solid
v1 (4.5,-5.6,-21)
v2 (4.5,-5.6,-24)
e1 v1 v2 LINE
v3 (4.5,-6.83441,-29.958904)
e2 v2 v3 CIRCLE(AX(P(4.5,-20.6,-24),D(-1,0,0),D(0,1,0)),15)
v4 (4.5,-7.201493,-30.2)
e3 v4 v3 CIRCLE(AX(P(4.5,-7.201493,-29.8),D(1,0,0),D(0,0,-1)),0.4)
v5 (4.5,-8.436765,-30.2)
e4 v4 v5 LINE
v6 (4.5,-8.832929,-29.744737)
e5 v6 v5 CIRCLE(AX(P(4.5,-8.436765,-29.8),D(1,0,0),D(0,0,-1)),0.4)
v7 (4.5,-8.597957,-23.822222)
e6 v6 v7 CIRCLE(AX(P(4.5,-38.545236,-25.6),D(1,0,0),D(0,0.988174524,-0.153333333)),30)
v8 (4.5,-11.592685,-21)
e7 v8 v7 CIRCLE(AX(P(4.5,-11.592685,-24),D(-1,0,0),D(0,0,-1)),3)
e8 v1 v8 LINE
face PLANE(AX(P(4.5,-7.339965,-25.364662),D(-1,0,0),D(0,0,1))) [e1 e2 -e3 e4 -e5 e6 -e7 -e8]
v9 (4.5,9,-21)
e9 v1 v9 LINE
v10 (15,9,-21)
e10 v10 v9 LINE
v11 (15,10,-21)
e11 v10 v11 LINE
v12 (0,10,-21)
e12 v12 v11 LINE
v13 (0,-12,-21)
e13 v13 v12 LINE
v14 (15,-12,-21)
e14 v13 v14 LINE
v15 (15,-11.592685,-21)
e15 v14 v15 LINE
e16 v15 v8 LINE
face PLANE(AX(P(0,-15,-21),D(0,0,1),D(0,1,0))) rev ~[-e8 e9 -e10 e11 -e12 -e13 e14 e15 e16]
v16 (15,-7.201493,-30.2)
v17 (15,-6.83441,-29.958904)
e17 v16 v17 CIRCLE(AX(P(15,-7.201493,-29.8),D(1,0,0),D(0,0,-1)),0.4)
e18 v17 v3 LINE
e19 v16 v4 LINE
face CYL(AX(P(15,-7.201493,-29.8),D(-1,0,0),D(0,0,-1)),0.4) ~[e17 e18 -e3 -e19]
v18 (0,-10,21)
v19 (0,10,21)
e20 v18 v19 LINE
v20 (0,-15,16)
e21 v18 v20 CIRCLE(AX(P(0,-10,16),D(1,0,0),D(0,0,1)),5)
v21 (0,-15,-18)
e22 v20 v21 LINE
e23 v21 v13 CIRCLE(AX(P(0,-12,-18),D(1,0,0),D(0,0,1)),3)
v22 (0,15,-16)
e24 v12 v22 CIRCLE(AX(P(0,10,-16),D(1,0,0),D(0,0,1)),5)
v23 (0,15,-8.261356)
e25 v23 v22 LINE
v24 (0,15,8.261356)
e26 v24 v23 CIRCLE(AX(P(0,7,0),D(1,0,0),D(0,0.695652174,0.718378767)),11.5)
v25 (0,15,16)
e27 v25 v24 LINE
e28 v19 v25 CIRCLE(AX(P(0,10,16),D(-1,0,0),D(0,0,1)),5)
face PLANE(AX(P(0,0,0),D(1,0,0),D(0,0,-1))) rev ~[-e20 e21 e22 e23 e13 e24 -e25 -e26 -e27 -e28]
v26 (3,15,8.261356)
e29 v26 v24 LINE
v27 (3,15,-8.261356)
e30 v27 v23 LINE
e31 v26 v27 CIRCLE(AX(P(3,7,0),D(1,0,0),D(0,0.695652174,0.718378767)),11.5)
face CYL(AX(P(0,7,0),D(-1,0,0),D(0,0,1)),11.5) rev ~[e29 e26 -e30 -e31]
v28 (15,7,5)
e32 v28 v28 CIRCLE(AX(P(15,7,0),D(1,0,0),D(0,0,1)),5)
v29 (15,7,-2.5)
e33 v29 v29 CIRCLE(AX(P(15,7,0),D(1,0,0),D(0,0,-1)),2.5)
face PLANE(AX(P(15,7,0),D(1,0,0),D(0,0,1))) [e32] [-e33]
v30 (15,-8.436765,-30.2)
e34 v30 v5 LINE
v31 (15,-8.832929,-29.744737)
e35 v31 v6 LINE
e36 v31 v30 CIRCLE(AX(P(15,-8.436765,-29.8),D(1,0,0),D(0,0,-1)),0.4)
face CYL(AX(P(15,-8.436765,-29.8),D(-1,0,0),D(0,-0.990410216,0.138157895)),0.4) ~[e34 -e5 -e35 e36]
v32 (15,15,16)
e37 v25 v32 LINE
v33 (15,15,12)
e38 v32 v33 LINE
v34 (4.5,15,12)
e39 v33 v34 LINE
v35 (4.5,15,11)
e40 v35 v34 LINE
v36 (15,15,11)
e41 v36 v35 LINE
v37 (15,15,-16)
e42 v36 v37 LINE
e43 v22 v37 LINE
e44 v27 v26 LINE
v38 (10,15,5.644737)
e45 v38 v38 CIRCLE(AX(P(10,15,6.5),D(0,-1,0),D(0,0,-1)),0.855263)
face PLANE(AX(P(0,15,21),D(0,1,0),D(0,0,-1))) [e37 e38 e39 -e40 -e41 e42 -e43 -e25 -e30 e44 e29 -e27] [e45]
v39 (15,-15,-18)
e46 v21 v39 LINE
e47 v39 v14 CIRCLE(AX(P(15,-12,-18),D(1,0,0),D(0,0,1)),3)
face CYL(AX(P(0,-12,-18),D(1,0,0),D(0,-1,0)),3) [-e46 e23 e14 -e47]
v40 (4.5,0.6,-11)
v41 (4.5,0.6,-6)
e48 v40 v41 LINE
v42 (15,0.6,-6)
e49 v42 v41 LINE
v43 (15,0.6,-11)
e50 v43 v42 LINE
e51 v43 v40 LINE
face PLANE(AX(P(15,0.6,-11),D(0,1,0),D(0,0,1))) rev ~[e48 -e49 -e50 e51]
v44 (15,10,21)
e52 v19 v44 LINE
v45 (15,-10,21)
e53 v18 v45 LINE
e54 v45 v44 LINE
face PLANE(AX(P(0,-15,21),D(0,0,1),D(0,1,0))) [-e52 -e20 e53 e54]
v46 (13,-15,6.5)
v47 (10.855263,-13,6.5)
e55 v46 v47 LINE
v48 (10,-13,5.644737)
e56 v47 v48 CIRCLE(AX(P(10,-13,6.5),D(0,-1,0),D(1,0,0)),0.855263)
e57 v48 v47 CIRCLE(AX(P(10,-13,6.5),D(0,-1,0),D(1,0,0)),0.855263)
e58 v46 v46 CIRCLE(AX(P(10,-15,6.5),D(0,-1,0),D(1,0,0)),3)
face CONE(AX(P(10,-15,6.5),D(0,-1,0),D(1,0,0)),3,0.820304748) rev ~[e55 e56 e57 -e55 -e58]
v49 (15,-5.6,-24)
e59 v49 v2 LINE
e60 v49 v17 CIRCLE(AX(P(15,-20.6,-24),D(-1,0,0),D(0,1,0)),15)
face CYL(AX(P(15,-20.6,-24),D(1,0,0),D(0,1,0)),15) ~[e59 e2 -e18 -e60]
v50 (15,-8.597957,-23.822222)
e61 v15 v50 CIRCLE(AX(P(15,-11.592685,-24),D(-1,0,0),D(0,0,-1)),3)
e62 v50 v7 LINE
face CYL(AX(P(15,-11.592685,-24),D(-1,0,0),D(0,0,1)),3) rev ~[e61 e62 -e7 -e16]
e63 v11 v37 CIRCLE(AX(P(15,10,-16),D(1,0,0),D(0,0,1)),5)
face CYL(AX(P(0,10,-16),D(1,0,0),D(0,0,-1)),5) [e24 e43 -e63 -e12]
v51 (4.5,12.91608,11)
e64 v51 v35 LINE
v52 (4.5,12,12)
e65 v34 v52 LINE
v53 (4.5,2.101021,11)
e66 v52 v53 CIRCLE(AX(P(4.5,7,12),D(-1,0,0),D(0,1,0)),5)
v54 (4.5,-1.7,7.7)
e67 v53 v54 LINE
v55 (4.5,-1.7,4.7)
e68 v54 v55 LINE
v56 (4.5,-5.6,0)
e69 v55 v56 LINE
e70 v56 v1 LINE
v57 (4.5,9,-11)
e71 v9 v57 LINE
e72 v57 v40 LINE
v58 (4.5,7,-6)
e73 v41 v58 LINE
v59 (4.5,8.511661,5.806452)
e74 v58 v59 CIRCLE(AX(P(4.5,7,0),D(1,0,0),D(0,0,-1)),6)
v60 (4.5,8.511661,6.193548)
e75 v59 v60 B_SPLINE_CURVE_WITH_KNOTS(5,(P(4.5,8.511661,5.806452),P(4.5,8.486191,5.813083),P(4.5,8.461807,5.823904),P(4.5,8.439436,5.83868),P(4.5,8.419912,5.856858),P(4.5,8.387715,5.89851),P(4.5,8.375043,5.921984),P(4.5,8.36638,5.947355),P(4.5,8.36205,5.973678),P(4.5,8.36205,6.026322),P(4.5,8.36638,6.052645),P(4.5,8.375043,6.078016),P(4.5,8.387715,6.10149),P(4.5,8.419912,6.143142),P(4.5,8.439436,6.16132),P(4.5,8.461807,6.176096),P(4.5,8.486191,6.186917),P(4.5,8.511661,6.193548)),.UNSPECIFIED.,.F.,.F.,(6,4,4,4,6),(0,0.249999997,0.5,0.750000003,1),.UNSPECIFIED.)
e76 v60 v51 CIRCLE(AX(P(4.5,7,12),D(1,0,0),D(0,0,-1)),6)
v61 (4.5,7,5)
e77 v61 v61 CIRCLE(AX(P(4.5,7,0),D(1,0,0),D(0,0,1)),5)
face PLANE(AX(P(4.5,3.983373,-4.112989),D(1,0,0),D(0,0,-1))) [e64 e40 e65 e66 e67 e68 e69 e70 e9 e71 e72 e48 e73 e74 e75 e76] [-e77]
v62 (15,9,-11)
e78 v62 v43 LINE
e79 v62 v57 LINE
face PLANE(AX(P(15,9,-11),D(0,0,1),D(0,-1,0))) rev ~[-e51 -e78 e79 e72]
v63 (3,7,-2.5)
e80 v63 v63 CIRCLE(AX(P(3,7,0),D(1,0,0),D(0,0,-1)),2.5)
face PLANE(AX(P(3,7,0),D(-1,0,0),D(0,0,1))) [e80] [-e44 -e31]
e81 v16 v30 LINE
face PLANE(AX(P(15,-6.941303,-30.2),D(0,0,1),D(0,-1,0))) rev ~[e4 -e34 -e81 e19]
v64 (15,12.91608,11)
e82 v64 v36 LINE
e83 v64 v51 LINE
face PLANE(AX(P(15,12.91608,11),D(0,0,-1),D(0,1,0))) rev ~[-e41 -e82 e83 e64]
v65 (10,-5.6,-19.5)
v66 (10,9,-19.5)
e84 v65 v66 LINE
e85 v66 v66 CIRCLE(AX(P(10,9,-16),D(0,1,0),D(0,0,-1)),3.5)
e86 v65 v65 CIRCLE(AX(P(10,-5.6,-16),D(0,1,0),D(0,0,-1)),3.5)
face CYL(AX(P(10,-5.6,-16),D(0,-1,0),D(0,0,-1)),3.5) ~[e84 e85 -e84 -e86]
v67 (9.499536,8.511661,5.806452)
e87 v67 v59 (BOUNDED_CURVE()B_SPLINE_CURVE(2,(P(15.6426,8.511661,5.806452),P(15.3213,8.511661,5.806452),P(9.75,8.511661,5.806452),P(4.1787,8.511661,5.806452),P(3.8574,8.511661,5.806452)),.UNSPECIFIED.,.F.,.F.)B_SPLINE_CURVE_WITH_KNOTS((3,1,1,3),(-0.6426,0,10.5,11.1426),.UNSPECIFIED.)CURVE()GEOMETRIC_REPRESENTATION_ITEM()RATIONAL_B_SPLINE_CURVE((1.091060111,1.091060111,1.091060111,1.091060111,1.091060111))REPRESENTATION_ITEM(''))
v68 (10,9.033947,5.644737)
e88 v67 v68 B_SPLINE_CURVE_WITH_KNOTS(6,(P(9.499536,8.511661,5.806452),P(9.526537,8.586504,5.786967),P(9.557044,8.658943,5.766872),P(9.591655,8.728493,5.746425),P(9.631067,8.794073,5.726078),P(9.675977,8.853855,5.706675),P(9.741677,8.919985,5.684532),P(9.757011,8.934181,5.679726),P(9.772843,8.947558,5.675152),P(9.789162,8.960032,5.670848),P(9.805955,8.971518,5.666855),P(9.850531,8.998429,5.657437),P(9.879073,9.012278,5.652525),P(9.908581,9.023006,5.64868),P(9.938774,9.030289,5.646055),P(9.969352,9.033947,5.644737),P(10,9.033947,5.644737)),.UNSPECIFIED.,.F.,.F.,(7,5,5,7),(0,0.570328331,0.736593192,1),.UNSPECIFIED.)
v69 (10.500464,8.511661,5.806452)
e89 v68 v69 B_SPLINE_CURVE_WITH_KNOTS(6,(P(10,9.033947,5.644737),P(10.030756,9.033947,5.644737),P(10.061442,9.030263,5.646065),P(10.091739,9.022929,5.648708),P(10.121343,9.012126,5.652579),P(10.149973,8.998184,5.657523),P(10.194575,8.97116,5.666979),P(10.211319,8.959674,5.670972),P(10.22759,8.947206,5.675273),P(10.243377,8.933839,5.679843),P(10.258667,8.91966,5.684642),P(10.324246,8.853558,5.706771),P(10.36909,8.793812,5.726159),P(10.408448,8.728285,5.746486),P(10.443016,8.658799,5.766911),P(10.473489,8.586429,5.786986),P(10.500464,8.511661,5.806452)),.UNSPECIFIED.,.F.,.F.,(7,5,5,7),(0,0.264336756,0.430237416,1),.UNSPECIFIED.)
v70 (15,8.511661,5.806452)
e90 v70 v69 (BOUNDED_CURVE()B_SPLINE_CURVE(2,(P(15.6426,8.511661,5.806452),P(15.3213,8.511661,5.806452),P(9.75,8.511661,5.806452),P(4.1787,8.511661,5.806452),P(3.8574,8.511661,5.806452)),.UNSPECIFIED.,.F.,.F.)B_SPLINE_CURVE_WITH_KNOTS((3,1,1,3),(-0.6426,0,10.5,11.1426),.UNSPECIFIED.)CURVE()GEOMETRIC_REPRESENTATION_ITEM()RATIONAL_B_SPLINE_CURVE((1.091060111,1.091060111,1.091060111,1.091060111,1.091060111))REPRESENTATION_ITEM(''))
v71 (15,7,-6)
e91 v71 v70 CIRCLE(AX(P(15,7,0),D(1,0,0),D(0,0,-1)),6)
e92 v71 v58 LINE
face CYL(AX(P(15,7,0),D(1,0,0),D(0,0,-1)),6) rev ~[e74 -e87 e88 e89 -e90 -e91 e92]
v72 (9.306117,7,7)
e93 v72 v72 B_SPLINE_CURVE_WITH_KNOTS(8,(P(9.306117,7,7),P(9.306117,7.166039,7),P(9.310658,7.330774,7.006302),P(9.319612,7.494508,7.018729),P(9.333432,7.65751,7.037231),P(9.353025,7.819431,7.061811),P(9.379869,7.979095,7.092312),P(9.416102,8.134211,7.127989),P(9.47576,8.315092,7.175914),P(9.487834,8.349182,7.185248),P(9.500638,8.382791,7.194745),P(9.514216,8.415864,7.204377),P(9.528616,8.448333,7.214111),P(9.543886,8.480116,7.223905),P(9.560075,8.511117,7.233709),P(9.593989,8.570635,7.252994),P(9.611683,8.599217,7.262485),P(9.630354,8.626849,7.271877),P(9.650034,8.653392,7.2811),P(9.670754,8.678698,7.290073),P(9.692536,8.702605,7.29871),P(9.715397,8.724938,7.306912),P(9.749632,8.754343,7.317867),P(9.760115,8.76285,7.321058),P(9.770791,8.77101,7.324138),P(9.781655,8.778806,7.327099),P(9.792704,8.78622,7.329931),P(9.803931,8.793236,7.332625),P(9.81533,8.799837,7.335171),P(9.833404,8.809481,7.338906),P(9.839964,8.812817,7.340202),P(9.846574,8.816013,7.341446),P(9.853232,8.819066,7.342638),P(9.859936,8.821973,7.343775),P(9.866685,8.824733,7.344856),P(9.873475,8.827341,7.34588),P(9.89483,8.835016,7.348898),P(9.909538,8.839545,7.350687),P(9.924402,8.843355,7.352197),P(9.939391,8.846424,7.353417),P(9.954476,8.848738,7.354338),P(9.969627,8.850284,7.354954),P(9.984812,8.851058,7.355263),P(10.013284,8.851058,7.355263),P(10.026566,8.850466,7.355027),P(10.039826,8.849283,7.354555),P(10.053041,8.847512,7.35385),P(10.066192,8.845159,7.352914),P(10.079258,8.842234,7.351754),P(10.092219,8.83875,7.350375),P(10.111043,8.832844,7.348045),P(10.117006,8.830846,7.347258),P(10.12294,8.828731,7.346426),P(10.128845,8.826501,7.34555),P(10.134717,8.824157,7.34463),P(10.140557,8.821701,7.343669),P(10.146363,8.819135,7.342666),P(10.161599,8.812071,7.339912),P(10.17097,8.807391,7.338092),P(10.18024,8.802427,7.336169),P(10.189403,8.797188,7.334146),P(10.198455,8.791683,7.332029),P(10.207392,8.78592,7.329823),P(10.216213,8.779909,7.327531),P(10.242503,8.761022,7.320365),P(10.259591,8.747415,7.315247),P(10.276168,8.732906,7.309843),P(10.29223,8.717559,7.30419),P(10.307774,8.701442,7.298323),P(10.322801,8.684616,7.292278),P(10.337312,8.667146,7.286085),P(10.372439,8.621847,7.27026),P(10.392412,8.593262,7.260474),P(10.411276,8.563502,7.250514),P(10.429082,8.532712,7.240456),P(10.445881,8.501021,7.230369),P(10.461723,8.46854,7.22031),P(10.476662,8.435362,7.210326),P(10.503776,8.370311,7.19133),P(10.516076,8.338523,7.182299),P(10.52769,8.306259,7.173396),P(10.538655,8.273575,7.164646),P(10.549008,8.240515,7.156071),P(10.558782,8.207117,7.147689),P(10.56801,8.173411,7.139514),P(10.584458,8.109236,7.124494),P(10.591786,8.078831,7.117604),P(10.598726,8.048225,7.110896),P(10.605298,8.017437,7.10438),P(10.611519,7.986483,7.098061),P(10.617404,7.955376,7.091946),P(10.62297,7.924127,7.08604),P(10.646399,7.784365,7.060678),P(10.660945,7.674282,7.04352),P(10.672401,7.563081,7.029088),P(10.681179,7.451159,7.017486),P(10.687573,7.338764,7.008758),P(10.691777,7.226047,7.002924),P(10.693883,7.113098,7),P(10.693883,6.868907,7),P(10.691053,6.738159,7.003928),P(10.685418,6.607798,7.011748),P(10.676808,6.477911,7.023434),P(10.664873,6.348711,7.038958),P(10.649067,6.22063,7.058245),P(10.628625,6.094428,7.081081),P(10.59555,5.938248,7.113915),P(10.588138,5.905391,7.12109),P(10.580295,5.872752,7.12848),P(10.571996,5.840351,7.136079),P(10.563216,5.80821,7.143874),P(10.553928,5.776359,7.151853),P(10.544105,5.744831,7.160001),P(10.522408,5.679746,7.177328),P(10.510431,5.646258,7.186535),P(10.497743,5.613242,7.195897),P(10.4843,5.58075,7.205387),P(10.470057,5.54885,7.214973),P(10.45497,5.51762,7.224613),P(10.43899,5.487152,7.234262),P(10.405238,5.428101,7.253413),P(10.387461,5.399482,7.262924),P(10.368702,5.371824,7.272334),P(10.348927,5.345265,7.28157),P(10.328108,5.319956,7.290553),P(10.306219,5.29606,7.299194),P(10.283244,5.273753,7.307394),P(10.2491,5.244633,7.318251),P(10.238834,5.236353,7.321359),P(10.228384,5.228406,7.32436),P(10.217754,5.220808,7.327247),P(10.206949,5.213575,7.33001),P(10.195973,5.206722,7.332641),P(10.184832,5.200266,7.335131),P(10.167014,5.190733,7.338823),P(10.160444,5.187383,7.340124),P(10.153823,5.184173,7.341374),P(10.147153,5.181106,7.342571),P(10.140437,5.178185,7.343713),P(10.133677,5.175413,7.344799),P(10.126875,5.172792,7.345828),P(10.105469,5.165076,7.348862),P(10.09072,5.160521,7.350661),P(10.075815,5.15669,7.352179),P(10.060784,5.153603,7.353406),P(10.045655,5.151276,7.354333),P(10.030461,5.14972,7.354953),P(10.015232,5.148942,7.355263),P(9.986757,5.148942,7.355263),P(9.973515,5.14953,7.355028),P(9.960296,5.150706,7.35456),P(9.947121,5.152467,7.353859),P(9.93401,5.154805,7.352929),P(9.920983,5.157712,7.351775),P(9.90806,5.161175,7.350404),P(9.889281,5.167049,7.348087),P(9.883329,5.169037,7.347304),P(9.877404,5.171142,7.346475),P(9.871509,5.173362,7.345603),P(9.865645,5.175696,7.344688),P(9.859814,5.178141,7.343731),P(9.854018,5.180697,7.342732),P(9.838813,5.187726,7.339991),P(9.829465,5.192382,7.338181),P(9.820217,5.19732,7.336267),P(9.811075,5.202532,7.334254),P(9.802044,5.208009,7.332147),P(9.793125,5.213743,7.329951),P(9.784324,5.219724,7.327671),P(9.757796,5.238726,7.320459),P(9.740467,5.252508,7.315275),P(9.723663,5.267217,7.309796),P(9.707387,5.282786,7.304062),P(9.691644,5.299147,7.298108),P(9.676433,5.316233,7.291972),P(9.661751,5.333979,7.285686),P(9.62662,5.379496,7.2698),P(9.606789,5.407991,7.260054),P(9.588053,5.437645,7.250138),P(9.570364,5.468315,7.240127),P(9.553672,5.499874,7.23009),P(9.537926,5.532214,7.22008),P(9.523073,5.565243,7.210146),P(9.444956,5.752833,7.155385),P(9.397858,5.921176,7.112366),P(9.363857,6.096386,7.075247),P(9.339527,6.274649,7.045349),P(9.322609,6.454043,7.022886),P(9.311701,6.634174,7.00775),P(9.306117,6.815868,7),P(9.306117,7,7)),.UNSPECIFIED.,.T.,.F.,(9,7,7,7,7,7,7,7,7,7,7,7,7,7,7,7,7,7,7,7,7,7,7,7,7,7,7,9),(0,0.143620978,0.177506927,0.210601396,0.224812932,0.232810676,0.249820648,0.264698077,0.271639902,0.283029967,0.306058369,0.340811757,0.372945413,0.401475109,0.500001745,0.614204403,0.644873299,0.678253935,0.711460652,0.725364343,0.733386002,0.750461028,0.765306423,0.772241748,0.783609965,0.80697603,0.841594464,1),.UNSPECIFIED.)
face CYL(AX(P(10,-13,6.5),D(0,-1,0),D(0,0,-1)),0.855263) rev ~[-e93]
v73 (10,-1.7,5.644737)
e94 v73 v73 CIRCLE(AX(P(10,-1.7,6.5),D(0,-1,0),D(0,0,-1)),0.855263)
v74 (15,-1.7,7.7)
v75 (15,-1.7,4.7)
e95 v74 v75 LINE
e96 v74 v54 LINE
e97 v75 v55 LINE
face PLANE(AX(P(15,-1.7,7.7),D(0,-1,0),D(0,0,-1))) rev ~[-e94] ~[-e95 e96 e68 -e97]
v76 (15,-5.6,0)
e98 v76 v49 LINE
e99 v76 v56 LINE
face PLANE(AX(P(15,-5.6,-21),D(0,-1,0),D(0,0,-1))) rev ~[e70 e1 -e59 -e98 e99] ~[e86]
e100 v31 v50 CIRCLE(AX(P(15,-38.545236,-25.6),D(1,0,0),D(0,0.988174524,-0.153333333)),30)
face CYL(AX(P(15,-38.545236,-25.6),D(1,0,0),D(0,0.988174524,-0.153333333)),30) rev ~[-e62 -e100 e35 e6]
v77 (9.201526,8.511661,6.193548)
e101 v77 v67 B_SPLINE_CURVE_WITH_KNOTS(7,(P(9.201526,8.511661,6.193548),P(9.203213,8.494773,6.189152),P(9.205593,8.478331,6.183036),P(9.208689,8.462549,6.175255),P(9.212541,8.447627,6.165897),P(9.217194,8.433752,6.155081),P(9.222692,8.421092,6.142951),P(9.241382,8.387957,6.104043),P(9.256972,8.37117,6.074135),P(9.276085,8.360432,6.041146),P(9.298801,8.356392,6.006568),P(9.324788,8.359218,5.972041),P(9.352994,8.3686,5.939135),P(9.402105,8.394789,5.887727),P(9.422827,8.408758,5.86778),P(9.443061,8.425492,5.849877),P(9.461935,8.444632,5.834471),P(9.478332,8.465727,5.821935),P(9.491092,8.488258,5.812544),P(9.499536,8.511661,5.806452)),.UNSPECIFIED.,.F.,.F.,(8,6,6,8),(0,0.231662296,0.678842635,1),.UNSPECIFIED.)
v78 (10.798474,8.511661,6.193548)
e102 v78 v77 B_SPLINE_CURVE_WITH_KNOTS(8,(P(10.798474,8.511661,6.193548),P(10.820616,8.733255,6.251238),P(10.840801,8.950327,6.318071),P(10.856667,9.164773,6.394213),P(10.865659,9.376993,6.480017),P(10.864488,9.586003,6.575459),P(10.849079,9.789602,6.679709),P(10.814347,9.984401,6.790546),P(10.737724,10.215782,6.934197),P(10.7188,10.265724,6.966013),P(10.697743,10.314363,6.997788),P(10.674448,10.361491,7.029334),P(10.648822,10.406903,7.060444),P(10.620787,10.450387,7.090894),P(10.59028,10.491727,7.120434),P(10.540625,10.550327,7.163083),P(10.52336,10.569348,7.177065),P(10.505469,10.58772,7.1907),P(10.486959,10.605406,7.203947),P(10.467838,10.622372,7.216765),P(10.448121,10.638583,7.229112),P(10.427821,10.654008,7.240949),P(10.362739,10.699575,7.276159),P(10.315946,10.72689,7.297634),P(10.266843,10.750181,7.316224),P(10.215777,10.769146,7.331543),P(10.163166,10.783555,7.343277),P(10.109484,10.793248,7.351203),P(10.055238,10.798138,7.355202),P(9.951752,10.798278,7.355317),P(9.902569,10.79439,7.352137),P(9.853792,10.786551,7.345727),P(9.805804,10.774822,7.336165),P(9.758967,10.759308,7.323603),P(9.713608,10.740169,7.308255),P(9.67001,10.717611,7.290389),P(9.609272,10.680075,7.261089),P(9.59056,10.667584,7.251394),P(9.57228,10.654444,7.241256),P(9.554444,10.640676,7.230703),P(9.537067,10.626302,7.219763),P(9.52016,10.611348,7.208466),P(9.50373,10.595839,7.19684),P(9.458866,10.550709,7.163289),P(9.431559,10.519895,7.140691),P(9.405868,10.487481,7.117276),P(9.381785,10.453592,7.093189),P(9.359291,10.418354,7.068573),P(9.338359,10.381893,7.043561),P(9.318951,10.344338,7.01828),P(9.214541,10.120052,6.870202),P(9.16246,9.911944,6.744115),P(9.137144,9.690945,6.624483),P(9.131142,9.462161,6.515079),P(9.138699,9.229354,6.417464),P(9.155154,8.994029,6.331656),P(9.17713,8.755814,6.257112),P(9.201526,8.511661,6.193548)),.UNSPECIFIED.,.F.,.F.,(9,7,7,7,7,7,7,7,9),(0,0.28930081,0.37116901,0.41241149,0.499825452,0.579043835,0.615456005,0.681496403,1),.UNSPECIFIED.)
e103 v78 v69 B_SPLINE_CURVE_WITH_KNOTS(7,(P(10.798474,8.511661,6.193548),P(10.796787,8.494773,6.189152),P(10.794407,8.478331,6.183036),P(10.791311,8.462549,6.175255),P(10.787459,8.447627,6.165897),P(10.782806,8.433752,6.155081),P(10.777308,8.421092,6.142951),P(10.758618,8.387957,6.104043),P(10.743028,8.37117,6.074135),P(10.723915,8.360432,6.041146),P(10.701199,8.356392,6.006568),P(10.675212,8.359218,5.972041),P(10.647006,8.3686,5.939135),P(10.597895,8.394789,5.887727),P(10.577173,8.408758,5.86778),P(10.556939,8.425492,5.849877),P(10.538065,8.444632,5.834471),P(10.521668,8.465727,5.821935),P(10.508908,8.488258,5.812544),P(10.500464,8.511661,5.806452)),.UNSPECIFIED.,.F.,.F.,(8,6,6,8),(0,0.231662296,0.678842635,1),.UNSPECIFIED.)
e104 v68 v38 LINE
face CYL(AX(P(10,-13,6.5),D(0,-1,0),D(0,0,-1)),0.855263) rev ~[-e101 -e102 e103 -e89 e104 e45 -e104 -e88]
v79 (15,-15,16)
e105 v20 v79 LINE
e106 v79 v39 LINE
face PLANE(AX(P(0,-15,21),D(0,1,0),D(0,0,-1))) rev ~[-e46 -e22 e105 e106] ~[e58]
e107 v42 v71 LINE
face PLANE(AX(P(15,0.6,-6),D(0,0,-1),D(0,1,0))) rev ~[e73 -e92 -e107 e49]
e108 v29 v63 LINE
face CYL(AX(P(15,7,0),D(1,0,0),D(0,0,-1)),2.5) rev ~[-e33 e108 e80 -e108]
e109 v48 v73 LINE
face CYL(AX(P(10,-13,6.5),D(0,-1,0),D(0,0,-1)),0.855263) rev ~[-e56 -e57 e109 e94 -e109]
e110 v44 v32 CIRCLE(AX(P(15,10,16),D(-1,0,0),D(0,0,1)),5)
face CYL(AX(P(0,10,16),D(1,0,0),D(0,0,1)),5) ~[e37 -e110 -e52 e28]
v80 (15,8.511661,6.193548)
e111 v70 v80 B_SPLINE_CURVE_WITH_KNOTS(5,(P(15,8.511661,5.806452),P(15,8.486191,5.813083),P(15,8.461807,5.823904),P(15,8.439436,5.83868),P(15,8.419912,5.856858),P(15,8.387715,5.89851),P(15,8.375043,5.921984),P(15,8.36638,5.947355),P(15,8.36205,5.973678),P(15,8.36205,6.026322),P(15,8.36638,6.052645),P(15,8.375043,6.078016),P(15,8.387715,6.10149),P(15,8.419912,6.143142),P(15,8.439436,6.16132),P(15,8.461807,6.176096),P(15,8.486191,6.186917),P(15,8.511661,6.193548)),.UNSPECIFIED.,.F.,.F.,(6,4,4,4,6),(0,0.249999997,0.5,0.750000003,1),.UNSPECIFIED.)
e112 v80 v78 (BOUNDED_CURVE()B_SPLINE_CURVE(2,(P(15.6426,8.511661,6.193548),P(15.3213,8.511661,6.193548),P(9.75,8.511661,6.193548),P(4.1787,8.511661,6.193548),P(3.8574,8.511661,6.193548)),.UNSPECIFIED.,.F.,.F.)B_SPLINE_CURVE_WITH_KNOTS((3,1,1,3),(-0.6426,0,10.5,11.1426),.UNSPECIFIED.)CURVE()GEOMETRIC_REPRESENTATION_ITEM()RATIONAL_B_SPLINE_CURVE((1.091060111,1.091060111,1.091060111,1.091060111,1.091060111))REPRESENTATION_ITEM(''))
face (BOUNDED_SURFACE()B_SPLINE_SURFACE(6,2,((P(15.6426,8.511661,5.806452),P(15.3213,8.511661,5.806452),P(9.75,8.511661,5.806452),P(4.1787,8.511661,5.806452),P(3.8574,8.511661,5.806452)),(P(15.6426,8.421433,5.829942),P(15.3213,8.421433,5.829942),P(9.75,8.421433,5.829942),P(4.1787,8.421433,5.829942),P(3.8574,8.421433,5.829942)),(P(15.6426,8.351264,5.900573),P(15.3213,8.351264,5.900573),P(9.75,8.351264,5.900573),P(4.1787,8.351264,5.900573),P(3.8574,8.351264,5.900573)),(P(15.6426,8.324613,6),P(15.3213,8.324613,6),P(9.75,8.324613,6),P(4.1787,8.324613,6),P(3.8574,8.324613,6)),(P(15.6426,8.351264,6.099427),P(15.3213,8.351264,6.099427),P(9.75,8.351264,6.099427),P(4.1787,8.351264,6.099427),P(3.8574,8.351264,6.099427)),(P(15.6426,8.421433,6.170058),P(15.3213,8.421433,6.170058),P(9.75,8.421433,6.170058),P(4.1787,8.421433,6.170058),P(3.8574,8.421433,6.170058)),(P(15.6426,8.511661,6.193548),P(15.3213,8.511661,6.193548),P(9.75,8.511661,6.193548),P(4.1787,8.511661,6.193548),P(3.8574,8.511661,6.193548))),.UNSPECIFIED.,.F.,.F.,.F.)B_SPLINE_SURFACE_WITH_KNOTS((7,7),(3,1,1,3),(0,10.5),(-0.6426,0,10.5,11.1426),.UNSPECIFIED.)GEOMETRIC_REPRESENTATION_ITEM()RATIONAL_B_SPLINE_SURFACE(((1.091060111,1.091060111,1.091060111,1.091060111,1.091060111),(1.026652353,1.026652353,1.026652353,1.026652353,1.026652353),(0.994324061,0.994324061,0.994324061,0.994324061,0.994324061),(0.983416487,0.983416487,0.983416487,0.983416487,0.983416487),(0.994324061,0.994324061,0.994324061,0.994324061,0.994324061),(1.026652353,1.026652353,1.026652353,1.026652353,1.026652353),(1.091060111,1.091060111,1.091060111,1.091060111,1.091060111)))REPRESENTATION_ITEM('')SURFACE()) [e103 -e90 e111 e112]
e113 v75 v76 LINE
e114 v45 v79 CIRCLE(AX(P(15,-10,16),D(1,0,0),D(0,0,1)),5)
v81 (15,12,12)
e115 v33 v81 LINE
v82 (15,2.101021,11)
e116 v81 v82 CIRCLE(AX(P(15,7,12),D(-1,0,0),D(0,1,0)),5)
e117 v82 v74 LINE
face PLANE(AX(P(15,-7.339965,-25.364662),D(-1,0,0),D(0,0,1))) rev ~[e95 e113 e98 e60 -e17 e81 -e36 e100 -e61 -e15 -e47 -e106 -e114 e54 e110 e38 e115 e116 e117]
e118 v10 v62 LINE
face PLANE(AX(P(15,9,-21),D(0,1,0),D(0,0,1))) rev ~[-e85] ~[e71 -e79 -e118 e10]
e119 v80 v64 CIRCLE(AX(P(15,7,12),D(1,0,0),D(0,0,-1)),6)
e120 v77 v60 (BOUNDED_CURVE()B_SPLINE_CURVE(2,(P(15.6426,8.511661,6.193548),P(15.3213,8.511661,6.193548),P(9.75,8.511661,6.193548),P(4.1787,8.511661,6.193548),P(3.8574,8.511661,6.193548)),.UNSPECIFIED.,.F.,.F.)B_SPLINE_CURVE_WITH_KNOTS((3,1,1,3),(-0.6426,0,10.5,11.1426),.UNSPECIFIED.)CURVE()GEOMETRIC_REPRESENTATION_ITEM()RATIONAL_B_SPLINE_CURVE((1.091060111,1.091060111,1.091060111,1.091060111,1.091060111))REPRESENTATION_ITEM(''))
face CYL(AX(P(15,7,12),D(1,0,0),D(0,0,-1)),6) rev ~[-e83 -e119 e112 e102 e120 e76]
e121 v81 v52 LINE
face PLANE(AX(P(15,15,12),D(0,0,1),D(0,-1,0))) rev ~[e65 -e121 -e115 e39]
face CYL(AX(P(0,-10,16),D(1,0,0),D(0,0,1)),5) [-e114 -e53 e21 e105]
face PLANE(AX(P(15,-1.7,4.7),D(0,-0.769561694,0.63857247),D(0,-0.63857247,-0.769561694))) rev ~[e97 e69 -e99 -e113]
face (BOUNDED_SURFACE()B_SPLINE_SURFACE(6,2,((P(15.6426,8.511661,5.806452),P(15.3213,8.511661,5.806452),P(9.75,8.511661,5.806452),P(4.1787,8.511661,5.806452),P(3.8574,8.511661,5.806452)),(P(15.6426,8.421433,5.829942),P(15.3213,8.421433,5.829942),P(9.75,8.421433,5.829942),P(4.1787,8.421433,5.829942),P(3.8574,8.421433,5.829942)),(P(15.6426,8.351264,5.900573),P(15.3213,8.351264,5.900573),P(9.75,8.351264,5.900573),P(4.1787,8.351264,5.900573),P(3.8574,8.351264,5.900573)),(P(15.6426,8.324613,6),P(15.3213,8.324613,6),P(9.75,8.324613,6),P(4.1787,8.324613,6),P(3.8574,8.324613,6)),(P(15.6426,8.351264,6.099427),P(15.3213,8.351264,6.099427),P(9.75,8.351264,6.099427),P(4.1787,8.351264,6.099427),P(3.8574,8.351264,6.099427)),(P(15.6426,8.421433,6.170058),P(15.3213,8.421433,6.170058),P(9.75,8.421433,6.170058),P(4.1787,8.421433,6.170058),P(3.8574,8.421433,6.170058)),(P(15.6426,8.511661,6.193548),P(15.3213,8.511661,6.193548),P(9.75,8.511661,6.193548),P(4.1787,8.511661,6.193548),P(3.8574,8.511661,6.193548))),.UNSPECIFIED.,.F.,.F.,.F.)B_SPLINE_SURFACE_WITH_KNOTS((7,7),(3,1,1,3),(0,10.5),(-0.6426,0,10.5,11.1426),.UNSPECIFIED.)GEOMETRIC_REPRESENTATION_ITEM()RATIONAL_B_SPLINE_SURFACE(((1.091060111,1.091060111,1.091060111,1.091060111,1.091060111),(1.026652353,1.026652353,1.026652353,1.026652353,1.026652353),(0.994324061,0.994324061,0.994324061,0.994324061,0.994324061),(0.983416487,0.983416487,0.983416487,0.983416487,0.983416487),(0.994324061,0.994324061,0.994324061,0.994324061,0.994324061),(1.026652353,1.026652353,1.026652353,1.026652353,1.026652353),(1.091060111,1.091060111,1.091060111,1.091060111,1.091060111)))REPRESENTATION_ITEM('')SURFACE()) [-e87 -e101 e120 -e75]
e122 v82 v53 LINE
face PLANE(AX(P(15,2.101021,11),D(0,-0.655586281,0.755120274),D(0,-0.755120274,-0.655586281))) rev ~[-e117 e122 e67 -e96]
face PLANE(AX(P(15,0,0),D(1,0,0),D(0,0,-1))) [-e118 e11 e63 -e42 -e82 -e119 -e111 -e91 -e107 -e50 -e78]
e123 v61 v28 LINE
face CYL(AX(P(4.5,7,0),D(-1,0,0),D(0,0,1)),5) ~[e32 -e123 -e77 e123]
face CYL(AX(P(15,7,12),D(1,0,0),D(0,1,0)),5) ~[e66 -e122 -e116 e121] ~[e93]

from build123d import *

# Parameters (mm, degrees)
SKETCH1_W           = 42
SKETCH1_H           = 30
BOSS_EXTRUDE1_DEPTH = 15
FILLET1_R           = 5
CUT_EXTRUDE1_DEPTH  = 10.5
FILLET2_R           = 0.2
SKETCH3_R           = 3.5
BOSS_EXTRUDE2_DEPTH = 14.6
SKETCH4_R           = 5
BOSS_EXTRUDE3_DEPTH = 10.5
SKETCH5_R           = 3
CUT_EXTRUDE2_DEPTH  = 2
CUT_EXTRUDE2_DRAFT  = -47
SKETCH6_R           = 0.85526258
CUT_EXTRUDE3_DEPTH  = 39.078865697
SKETCH7_R           = 2.5
CUT_EXTRUDE4_DEPTH  = 30.849623234
BOSS_EXTRUDE4_DEPTH = 10.5
FILLET3_R           = 3
FILLET4_R           = 0.4
SKETCH9_R           = 11.5
CUT_EXTRUDE5_DEPTH  = 3


with BuildPart() as part:
    # Sketch1 → Boss-Extrude1 (new body)
    with BuildSketch(Plane(origin=(0, 0, 0), x_dir=(0, 0, -1), z_dir=(1, 0, 0))):
        Rectangle(SKETCH1_W, SKETCH1_H)
    extrude(amount=BOSS_EXTRUDE1_DEPTH)

    # Fillet1
    fillet1_edges = [part.edges().sort_by_distance(p)[0] for p in [
        (7.5, 15, 21),
        (7.5, 15, -21),
        (7.5, -15, 21),
    ]]
    fillet(fillet1_edges, radius=FILLET1_R)

    # Sketch2 → Cut-Extrude1 (cut)
    with BuildSketch(Plane(origin=(15, 0, 0), x_dir=(0, 0, -1), z_dir=(1, 0, 0))):
        with BuildLine():
            Line((21, 9), (11, 9))
            Line((11, 9), (11, 0.6))
            Line((11, 0.6), (6, 0.6))
            Line((6, 0.6), (6, 7))
            ThreePointArc((6, 7), (0, 13), (-6, 7))
            ThreePointArc((-6, 7), (-7.417424305, 10.872983346), (-11, 12.916079783))
            Line((-11, 12.916079783), (-11, 15))
            Line((-11, 15), (-12, 15))
            Line((-12, 15), (-12, 12))
            ThreePointArc((-12, 12), (-7.025319235, 7.50254481), (-11, 2.101020514))
            Line((-11, 2.101020514), (-7.7, -1.7))
            Line((-7.7, -1.7), (-4.7, -1.7))
            Line((-4.7, -1.7), (0, -5.6))
            Line((0, -5.6), (11, -5.6))
            Line((11, -5.6), (21, -5.6))
            Line((21, -5.6), (21, 9))
        make_face()
    extrude(amount=-CUT_EXTRUDE1_DEPTH, mode=Mode.SUBTRACT)

    # Fillet2
    fillet2_edges = [part.edges().sort_by_distance(p)[0] for p in [
        (9.75, 7, 6),
    ]]
    fillet(fillet2_edges, radius=FILLET2_R)

    # Sketch3 → Boss-Extrude2 (add)
    with BuildSketch(Plane(origin=(0, -5.6, 0), x_dir=(1, 0, 0), z_dir=(0, 1, 0))):
        with Locations(Location((10, 16, 0), (0, 0, 90))):
            Circle(SKETCH3_R)
    extrude(amount=BOSS_EXTRUDE2_DEPTH)

    # Sketch4 → Boss-Extrude3 (add)
    with BuildSketch(Plane(origin=(4.5, 0, 0), x_dir=(0, 0, -1), z_dir=(1, 0, 0))):
        with Locations(Location((0, 7, 0), (0, 0, 180))):
            Circle(SKETCH4_R)
    extrude(amount=BOSS_EXTRUDE3_DEPTH)


with BuildPart() as cut_extrude2_tool:
    # Sketch5 → Cut-Extrude2 (with draft: the straight prism first)
    with BuildSketch(Plane.XZ.offset(15)):
        with Locations((10, 6.5)):
            Circle(SKETCH5_R)
    extrude(amount=-CUT_EXTRUDE2_DEPTH)
    # Cut-Extrude2: the draft: its side faces are tilted about the plane it starts from
    cut_extrude2_sides = [cut_extrude2_tool.faces().sort_by_distance(p)[0] for p in [
        (7, -14, 6.5),
    ]]
    draft(cut_extrude2_sides, Plane.XZ.offset(15), CUT_EXTRUDE2_DRAFT)


with BuildPart() as part_1:
    add(part.part)

    # Cut-Extrude2: cut by cut_extrude2_tool
    add(cut_extrude2_tool.part, mode=Mode.SUBTRACT)

    # Sketch6 → Cut-Extrude3 (cut, through all)
    with BuildSketch(Plane.XZ.offset(13)):
        with Locations(Location((10, 6.5, 0), (0, 0, 270))):
            Circle(SKETCH6_R)
    extrude(amount=-CUT_EXTRUDE3_DEPTH, mode=Mode.SUBTRACT)

    # Sketch7 → Cut-Extrude4 (cut, through all)
    with BuildSketch(Plane(origin=(15, 0, 0), x_dir=(0, 0, -1), z_dir=(1, 0, 0))):
        with Locations((0, 7)):
            Circle(SKETCH7_R)
    extrude(amount=-CUT_EXTRUDE4_DEPTH, mode=Mode.SUBTRACT)

    # Sketch8 → Boss-Extrude4 (add)
    with BuildSketch(Plane(origin=(15, 0, 0), x_dir=(0, 0, -1), z_dir=(1, 0, 0))):
        with BuildLine():
            Line((21, -5.6), (24, -5.6))
            ThreePointArc((24, -5.6), (27.171714604, -5.939160103), (30.2, -6.941303137))
            Line((30.2, -6.941303137), (30.2, -8.9))
            ThreePointArc((30.2, -8.9), (25.6, -8.545235705), (21, -8.9))
            Line((21, -8.9), (21, -5.6))
        make_face()
    extrude(amount=-BOSS_EXTRUDE4_DEPTH)

    # Fillet3
    fillet3_edges = [part_1.edges().sort_by_distance(p)[0] for p in [
        (9.75, -8.9, -21),
        (7.5, -15, -21),
    ]]
    fillet(fillet3_edges, radius=FILLET3_R)

    # Fillet4
    fillet4_edges = [part_1.edges().sort_by_distance(p)[0] for p in [
        (9.75, -6.941303137, -30.2),
        (9.75, -8.9, -30.2),
    ]]
    fillet(fillet4_edges, radius=FILLET4_R)

    # Sketch9 → Cut-Extrude5 (cut)
    with BuildSketch(Plane.ZY):
        with Locations((0, 7)):
            Circle(SKETCH9_R)
    extrude(amount=-CUT_EXTRUDE5_DEPTH, mode=Mode.SUBTRACT)


solid = part_1.part
